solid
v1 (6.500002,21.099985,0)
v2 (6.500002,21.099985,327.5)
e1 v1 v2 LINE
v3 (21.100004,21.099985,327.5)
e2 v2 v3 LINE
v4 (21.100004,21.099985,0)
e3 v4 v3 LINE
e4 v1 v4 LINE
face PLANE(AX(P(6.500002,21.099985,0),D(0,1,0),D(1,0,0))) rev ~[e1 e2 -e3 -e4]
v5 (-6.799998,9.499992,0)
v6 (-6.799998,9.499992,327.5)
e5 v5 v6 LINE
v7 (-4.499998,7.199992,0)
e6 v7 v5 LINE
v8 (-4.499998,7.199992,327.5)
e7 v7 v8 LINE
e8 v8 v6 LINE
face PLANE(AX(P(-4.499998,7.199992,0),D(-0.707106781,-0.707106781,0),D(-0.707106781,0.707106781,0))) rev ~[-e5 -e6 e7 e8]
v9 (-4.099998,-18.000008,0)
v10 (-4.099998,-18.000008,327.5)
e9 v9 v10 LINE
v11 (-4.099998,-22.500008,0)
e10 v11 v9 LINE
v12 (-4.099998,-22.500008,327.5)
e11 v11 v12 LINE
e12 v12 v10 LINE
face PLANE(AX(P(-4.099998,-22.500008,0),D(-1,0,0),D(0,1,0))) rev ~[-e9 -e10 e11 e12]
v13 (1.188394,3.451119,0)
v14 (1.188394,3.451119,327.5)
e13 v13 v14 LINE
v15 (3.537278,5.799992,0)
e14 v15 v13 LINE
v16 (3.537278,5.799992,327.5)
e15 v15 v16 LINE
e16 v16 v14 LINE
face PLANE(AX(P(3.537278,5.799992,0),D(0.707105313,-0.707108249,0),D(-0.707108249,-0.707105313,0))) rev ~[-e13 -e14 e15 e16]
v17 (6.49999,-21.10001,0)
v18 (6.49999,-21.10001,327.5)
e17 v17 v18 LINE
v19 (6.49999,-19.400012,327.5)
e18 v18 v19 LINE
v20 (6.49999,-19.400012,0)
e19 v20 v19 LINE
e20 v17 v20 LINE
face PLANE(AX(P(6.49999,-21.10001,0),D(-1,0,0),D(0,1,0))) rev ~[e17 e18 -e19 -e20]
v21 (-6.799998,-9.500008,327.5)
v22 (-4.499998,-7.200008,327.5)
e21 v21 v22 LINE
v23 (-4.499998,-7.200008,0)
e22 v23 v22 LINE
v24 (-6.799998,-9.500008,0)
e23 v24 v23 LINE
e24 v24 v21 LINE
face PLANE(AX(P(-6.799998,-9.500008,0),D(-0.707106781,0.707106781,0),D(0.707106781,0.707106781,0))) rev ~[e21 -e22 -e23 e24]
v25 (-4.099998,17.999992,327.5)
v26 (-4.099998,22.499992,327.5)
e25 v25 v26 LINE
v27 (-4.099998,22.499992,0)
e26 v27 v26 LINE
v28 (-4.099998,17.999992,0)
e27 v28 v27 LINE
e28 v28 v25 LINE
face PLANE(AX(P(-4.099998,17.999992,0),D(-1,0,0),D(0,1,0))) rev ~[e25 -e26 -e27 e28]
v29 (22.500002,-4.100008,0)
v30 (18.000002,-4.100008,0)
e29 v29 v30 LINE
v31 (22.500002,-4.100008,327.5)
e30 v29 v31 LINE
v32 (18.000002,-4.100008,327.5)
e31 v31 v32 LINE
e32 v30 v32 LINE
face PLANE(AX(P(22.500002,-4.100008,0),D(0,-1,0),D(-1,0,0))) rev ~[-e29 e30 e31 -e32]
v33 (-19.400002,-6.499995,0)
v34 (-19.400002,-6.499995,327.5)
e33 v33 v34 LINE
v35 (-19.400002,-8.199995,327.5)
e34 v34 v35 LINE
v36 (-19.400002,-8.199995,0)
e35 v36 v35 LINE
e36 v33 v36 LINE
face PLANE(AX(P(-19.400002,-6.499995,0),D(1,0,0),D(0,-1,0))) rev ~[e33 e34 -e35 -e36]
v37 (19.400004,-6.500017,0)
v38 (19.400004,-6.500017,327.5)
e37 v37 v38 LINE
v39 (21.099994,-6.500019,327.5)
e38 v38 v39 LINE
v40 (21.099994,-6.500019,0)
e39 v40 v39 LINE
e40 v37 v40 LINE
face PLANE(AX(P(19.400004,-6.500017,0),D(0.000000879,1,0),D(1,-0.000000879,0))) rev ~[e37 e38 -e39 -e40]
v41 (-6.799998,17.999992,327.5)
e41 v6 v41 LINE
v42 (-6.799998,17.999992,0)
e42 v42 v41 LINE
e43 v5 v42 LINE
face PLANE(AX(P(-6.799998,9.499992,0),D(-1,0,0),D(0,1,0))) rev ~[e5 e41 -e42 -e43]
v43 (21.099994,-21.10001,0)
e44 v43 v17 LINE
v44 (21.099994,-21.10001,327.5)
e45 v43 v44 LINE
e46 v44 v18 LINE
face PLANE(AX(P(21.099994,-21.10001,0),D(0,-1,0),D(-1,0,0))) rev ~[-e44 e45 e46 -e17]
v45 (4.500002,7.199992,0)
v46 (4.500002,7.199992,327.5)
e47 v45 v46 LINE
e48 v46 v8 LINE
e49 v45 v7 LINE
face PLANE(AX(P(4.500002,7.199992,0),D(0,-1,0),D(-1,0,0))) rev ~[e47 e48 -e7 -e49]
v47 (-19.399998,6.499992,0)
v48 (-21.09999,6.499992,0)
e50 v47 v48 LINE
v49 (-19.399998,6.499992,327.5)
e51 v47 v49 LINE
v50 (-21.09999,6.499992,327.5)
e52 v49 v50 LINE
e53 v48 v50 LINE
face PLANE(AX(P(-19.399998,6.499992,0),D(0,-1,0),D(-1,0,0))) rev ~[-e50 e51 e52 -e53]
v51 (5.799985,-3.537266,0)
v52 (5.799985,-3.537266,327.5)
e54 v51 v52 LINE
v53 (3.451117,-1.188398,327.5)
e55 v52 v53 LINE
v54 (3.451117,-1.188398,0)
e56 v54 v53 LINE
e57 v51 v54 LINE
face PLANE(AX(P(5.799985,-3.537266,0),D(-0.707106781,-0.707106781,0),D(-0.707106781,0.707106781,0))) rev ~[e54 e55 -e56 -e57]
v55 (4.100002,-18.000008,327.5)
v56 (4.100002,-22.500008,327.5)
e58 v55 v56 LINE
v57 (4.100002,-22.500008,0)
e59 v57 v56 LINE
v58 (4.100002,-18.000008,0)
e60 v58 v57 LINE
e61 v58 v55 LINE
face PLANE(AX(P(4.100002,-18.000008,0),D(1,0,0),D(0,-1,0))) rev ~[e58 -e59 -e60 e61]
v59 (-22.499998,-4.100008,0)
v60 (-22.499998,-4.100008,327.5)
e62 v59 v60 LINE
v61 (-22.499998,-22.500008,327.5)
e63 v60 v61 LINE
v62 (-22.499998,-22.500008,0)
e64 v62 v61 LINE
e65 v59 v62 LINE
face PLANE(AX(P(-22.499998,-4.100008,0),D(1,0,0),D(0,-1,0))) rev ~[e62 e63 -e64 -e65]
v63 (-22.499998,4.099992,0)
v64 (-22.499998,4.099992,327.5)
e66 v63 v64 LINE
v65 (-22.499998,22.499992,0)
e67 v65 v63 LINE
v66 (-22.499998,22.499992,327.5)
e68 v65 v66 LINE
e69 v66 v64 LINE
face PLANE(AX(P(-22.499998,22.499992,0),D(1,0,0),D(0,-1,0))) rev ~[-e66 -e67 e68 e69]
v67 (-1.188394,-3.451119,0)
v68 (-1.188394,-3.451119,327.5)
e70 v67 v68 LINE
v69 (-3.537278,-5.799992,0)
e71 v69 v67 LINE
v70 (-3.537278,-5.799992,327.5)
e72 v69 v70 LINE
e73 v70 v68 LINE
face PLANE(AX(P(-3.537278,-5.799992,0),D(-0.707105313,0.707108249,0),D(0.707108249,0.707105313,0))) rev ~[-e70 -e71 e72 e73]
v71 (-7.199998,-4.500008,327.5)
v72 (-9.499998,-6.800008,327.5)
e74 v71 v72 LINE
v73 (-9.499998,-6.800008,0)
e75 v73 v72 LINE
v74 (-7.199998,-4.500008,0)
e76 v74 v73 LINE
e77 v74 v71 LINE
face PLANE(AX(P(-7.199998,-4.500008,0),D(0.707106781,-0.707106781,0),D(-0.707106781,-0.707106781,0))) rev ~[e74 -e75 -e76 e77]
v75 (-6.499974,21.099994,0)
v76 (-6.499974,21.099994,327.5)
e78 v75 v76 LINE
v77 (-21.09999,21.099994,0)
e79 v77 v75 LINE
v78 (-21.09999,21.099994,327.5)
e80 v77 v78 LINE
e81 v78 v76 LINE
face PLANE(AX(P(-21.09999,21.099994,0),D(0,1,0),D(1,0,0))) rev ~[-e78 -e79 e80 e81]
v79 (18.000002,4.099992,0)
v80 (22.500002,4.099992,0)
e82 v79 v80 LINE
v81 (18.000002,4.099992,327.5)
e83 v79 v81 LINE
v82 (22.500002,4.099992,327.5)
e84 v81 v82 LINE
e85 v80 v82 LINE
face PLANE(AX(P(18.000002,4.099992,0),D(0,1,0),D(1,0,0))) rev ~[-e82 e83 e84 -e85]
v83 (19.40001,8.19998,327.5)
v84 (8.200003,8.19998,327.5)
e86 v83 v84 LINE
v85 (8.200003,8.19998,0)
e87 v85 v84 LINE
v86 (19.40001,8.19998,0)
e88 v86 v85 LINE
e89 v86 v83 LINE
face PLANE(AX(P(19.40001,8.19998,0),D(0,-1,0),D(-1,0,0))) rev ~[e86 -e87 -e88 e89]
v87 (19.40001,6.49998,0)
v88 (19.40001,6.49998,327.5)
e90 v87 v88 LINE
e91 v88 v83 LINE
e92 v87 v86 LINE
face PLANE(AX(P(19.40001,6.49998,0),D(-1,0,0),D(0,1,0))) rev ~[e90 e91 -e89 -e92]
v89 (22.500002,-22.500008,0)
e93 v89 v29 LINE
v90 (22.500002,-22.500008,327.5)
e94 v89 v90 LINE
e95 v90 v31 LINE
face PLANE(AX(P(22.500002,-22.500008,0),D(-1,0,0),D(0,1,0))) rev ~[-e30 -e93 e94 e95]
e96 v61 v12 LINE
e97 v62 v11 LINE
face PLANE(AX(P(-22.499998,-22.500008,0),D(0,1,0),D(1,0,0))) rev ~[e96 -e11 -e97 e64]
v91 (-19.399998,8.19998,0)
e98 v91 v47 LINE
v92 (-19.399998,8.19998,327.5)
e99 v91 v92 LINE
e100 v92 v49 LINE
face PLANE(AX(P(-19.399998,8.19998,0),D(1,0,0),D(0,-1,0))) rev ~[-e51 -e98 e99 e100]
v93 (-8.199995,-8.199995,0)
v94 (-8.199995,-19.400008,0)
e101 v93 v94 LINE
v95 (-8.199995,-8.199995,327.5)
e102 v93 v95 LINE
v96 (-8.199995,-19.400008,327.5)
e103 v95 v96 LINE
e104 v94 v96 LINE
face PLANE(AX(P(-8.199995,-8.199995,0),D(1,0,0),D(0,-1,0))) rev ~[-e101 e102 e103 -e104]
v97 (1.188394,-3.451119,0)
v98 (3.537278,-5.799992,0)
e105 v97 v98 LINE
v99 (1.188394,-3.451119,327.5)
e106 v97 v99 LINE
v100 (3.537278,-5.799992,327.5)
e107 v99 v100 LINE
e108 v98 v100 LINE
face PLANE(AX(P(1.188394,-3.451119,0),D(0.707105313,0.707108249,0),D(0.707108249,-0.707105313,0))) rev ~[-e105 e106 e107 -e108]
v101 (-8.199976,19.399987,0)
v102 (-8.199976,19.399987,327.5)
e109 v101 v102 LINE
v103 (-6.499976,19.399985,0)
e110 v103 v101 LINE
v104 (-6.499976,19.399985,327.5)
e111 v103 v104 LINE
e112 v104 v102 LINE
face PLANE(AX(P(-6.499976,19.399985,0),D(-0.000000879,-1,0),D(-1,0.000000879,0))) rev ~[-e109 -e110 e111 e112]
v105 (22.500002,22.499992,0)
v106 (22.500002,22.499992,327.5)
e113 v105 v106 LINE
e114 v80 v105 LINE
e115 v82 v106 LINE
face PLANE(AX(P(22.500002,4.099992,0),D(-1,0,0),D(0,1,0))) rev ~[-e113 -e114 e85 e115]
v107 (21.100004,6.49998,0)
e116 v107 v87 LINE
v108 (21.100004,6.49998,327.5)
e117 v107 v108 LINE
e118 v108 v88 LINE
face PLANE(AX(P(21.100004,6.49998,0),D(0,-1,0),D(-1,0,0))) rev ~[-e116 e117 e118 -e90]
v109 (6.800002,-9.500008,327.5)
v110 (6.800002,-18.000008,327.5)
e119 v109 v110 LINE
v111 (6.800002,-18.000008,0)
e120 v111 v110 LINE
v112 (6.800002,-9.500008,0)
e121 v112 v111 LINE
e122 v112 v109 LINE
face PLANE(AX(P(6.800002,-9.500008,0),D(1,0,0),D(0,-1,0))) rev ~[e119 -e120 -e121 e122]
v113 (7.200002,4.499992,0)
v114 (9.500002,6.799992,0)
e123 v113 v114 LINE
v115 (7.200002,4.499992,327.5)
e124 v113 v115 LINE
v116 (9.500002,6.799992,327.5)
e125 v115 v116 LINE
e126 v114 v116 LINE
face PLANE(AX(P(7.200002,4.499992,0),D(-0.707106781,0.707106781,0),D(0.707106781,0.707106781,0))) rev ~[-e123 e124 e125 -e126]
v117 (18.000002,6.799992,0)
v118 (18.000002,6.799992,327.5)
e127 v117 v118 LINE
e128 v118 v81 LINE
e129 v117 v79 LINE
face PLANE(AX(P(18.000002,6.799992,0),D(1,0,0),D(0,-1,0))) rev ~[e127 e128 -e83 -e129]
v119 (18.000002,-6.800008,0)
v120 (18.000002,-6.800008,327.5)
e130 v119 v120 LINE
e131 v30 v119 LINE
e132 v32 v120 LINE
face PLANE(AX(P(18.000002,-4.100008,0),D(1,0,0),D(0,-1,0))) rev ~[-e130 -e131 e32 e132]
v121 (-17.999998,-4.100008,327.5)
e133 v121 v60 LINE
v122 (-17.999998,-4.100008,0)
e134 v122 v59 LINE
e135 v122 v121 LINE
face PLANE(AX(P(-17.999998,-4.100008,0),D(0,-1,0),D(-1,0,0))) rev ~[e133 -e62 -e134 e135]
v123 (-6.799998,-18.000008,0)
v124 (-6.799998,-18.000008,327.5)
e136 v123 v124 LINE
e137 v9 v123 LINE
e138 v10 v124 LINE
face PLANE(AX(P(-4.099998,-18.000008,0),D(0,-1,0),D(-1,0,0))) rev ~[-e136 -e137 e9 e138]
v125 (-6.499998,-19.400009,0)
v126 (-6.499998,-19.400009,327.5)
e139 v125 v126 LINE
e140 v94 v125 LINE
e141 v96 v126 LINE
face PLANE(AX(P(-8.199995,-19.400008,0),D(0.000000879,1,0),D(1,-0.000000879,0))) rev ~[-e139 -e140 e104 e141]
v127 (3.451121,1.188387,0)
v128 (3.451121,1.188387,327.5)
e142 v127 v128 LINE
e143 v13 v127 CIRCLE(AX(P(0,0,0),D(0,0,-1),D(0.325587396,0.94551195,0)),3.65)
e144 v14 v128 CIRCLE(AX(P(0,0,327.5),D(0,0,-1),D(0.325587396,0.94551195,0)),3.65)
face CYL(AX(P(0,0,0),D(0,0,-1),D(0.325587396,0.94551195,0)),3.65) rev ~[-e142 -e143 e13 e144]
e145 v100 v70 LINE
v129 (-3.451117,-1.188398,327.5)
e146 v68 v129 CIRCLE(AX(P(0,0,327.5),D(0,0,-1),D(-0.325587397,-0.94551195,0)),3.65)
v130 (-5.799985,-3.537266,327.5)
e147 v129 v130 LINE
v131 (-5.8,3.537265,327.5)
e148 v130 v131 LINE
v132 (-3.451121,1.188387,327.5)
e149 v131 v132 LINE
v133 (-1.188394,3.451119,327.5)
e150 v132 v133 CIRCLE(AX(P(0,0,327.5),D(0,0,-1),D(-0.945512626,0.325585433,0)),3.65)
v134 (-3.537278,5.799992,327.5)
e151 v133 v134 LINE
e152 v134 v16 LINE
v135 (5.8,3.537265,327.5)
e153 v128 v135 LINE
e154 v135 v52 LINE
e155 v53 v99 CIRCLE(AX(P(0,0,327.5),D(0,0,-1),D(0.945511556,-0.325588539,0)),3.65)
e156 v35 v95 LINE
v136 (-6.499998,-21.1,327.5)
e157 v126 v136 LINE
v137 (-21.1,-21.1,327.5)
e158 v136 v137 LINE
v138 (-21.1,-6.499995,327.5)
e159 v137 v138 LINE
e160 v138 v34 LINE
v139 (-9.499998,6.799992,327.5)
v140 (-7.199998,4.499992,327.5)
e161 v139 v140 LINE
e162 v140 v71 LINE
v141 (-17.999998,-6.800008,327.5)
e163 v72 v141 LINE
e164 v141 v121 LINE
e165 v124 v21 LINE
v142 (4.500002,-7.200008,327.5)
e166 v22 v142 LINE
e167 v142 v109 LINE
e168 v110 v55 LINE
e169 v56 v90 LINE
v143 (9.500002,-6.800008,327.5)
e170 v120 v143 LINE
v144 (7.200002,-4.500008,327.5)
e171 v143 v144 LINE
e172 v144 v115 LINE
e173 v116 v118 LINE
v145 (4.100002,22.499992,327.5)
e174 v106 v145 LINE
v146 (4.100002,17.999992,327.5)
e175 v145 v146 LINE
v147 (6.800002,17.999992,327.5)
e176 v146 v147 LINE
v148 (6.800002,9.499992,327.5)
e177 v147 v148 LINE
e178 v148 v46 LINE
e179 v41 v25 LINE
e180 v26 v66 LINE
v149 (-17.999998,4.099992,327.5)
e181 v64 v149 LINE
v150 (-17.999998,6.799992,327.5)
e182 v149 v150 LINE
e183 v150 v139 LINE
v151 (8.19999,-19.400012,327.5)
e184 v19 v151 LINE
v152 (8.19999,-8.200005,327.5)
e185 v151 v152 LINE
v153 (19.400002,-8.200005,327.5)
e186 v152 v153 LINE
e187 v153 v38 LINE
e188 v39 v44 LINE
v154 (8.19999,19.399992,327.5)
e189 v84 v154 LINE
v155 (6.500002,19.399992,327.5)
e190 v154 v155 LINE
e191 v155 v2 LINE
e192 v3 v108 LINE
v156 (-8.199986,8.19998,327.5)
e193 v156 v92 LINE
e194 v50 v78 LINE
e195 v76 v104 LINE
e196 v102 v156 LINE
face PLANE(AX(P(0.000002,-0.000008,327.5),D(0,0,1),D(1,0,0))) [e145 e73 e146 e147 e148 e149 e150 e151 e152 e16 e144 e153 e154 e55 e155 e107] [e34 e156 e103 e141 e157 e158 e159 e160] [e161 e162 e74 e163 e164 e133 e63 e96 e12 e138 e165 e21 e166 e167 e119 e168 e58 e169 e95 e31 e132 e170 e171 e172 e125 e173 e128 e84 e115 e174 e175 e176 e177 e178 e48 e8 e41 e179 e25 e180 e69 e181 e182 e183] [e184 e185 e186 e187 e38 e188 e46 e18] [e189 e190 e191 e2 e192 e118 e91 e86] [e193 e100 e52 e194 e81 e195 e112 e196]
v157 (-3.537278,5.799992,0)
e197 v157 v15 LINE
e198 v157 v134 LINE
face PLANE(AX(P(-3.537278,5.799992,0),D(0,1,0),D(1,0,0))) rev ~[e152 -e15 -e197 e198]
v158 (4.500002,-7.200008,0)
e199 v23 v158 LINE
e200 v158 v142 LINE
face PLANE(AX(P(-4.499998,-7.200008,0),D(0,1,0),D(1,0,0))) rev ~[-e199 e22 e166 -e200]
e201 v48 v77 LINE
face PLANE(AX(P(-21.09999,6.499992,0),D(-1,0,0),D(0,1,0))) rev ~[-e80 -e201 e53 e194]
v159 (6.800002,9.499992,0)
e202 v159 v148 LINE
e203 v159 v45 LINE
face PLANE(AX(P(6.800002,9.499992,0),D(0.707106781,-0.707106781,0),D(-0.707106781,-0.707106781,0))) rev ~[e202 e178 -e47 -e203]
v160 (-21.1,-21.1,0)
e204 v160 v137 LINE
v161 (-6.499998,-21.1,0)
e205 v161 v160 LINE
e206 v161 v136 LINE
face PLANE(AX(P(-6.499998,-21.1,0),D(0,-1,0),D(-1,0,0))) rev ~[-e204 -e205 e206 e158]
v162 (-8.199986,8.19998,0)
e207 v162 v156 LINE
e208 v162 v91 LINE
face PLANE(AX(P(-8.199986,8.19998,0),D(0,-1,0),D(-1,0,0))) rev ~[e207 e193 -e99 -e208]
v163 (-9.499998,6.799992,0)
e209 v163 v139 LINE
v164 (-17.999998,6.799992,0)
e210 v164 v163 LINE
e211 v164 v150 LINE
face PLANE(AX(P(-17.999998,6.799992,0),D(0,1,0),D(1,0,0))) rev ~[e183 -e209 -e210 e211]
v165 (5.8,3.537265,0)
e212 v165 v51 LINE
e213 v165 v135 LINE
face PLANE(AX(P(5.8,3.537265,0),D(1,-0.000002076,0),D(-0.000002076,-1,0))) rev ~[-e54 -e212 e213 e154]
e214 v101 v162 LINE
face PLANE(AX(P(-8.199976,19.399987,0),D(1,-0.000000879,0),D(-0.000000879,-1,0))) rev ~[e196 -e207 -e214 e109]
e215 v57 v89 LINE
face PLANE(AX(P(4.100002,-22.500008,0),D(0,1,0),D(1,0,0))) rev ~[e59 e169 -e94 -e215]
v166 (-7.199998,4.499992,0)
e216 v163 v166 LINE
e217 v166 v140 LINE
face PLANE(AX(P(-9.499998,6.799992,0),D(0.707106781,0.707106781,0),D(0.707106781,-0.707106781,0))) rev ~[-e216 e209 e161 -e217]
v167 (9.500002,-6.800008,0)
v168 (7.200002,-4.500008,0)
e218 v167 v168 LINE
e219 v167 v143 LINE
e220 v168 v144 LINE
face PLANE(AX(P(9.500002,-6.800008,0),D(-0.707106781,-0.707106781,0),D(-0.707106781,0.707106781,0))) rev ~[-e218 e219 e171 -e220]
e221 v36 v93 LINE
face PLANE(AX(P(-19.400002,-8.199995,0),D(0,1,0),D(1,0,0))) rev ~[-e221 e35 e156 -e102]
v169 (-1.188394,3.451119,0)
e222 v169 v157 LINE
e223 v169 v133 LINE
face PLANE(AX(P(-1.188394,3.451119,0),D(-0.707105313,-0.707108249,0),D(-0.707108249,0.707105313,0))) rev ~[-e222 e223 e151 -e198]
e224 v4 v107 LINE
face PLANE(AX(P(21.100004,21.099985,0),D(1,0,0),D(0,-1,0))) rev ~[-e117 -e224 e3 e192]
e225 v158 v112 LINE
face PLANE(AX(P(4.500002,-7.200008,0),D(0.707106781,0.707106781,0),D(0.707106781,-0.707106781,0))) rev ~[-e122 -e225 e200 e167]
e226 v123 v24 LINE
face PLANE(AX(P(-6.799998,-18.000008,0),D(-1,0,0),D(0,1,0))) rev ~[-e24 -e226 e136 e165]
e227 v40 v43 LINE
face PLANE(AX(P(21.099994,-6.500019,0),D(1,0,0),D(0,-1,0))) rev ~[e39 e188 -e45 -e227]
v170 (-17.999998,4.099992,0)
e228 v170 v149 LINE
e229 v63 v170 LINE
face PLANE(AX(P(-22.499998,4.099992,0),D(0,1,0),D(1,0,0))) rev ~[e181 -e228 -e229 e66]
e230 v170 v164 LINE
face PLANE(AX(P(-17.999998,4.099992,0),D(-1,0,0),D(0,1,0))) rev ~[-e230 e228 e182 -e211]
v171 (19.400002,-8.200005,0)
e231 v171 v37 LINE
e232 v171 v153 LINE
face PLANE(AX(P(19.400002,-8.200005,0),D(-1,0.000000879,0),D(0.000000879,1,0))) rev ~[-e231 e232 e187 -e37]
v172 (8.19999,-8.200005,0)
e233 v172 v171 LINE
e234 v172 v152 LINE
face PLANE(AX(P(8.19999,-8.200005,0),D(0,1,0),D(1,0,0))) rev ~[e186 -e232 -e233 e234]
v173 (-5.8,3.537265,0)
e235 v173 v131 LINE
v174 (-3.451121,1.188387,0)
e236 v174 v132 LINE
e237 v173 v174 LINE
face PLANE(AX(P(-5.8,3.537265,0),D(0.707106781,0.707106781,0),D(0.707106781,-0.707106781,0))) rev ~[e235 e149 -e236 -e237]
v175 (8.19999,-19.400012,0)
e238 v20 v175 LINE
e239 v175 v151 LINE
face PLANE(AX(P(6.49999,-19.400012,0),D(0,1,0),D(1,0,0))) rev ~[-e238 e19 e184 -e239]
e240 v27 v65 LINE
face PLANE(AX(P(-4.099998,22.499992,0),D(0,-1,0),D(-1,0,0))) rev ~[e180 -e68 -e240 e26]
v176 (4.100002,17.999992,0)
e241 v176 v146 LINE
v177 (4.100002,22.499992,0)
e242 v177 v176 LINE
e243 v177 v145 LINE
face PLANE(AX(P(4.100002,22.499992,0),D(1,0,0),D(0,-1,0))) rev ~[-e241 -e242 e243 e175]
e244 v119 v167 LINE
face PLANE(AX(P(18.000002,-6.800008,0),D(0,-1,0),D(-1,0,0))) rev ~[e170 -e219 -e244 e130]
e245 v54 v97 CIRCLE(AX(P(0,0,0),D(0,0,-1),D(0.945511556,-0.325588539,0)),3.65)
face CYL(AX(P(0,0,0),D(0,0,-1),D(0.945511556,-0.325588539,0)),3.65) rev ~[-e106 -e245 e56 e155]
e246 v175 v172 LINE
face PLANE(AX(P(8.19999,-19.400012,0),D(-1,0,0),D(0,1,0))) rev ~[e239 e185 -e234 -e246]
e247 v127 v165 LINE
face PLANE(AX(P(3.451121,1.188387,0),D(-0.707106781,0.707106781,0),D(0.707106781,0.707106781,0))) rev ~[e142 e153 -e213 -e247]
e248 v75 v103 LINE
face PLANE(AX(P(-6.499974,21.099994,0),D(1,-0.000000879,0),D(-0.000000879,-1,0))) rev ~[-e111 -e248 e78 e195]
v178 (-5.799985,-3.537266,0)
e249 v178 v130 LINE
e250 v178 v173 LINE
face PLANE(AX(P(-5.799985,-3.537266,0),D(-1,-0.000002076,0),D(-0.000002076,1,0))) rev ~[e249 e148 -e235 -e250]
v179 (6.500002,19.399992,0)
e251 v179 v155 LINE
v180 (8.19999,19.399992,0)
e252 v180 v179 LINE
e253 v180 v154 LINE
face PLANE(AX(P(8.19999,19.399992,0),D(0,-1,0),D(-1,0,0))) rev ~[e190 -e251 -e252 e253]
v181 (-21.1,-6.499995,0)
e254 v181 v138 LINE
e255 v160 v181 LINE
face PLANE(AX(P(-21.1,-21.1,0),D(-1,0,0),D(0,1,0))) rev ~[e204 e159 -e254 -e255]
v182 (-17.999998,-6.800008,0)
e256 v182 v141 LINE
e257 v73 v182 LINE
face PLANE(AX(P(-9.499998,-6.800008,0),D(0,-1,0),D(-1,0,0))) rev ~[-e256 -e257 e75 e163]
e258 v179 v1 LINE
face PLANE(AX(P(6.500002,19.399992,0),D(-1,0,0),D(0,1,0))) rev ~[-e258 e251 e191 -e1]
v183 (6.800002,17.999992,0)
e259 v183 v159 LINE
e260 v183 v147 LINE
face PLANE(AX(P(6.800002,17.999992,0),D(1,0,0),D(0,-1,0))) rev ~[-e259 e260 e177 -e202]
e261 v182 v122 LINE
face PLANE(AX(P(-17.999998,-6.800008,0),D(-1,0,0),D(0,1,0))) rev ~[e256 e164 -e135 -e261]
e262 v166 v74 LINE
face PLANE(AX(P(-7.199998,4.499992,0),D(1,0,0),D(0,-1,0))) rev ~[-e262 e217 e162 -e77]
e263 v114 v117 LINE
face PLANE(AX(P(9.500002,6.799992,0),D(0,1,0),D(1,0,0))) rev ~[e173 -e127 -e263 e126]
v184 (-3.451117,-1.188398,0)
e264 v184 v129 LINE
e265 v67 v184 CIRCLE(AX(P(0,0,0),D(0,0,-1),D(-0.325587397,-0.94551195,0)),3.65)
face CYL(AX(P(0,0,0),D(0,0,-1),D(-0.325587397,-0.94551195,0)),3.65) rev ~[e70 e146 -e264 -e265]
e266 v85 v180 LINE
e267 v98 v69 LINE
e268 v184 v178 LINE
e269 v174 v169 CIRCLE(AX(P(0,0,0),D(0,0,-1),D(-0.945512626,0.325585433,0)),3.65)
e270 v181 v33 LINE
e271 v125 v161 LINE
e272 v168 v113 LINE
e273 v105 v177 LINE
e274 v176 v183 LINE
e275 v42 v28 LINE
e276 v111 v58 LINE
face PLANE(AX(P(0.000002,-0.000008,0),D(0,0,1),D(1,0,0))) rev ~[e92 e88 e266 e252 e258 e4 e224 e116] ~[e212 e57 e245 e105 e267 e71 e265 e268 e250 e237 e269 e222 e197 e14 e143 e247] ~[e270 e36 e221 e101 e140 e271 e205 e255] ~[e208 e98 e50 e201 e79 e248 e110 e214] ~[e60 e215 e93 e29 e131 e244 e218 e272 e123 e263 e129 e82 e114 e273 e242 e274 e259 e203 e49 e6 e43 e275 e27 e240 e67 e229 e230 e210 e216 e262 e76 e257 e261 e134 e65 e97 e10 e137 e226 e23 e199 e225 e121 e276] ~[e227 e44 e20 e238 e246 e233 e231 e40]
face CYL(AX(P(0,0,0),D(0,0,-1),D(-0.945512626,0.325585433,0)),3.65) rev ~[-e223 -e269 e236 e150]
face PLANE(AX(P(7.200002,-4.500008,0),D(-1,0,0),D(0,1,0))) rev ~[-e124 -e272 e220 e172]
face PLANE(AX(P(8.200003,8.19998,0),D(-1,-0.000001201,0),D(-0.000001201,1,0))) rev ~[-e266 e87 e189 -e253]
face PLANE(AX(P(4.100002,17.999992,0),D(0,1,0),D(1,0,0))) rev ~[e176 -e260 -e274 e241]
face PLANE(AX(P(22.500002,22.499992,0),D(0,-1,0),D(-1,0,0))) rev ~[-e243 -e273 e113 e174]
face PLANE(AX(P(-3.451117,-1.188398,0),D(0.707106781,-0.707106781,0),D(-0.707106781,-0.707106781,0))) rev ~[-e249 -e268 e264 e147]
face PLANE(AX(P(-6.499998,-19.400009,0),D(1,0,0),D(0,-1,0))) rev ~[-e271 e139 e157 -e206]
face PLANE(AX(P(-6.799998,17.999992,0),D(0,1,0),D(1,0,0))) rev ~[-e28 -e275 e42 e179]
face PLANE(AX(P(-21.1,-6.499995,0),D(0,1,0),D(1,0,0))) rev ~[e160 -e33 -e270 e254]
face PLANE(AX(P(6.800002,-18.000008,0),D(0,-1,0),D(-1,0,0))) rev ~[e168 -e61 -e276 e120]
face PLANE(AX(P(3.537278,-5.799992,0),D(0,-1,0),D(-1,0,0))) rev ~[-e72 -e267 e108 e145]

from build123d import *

# Parameters (mm, degrees)
BOSS_EXTRUDE1_DEPTH = 327.500000024


with BuildPart() as part:
    # Sketch1 → Boss-Extrude1 (new body)
    with BuildSketch(Plane.XY):
        Polygon((-22.499997904, -22.500007621), (-4.099997904, -22.500007621), (-4.099997904, -18.000007621), (-6.799997904, -18.000007621), (-6.799997904, -9.500007621), (-4.499997904, -7.200007621), (4.500002096, -7.200007621), (6.800002096, -9.500007621), (6.800002096, -18.000007621), (4.100002096, -18.000007621), (4.100002096, -22.500007621), (22.500002096, -22.500007621), (22.500002096, -4.100007621), (18.000002096, -4.100007621), (18.000002096, -6.800007621), (9.500002096, -6.800007621), (7.200002096, -4.500007621), (7.200002096, 4.499992379), (9.500002096, 6.799992379), (18.000002096, 6.799992379), (18.000002096, 4.099992379), (22.500002096, 4.099992379), (22.500002096, 22.499992379), (4.100002096, 22.499992379), (4.100002096, 17.999992379), (6.800002096, 17.999992379), (6.800002096, 9.499992379), (4.500002096, 7.199992379), (-4.499997904, 7.199992379), (-6.799997904, 9.499992379), (-6.799997904, 17.999992379), (-4.099997904, 17.999992379), (-4.099997904, 22.499992379), (-22.499997904, 22.499992379), (-22.499997904, 4.099992379), (-17.999997904, 4.099992379), (-17.999997904, 6.799992379), (-9.499997904, 6.799992379), (-7.199997904, 4.499992379), (-7.199997904, -4.500007621), (-9.499997904, -6.800007621), (-17.999997904, -6.800007621), (-17.999997904, -4.100007621), (-22.499997904, -4.100007621), align=None)
        Polygon((8.200003223, 8.199980186), (8.199989777, 19.399992368), (6.500002085, 19.399992368), (6.500002085, 21.099984758), (21.100004192, 21.099984758), (21.100004192, 6.499980188), (19.400009891, 6.499980188), (19.400009891, 8.199980186), align=None, mode=Mode.SUBTRACT)
        Polygon((-19.399997893, 6.499992368), (-21.099990283, 6.499992368), (-21.099990283, 21.099994475), (-6.499974376, 21.099994475), (-6.49997587, 19.399985233), (-8.199975868, 19.399986727), (-8.199985712, 8.19998006), (-19.399997893, 8.19998006), align=None, mode=Mode.SUBTRACT)
        Polygon((-6.499997893, -21.1), (-21.1, -21.1), (-21.1, -6.499995431), (-19.400002096, -6.499995431), (-19.400002096, -8.199995429), (-8.199995429, -8.199995429), (-8.199995429, -19.40000761), (-6.499997893, -19.400009104), align=None, mode=Mode.SUBTRACT)
        Polygon((6.499989905, -19.400011813), (8.199989903, -19.400011813), (8.199989903, -8.200005146), (19.400002085, -8.200005146), (19.400003579, -6.500017454), (21.099994475, -6.500018948), (21.099994475, -21.100009717), (6.499989905, -21.100009717), align=None, mode=Mode.SUBTRACT)
        with BuildLine():
            Line((-5.799999723, 3.537265469), (-3.451121085, 1.18838683))
            ThreePointArc((-3.451121085, 1.18838683), (-2.580942431, 2.580937072), (-1.188393996, 3.451118617))
            Line((-1.188393996, 3.451118617), (-3.537277512, 5.799992379))
            Line((-3.537277512, 5.799992379), (3.537277512, 5.799992379))
            Line((3.537277512, 5.799992379), (1.188393996, 3.451118617))
            ThreePointArc((1.188393996, 3.451118617), (2.580942431, 2.580937072), (3.451121085, 1.18838683))
            Line((3.451121085, 1.18838683), (5.799999723, 3.537265469))
            Line((5.799999723, 3.537265469), (5.799985034, -3.537266022))
            Line((5.799985034, -3.537266022), (3.451117181, -1.188398168))
            ThreePointArc((3.451117181, -1.188398168), (2.580938191, -2.580941312), (1.188393996, -3.451118617))
            Line((1.188393996, -3.451118617), (3.537277512, -5.799992379))
            Line((3.537277512, -5.799992379), (-3.537277512, -5.799992379))
            Line((-3.537277512, -5.799992379), (-1.188393996, -3.451118617))
            ThreePointArc((-1.188393996, -3.451118617), (-2.580938191, -2.580941311), (-3.451117181, -1.188398168))
            Line((-3.451117181, -1.188398168), (-5.799985034, -3.537266022))
            Line((-5.799985034, -3.537266022), (-5.799999723, 3.537265469))
        make_face(mode=Mode.SUBTRACT)
    extrude(amount=BOSS_EXTRUDE1_DEPTH)


solid = part.part
